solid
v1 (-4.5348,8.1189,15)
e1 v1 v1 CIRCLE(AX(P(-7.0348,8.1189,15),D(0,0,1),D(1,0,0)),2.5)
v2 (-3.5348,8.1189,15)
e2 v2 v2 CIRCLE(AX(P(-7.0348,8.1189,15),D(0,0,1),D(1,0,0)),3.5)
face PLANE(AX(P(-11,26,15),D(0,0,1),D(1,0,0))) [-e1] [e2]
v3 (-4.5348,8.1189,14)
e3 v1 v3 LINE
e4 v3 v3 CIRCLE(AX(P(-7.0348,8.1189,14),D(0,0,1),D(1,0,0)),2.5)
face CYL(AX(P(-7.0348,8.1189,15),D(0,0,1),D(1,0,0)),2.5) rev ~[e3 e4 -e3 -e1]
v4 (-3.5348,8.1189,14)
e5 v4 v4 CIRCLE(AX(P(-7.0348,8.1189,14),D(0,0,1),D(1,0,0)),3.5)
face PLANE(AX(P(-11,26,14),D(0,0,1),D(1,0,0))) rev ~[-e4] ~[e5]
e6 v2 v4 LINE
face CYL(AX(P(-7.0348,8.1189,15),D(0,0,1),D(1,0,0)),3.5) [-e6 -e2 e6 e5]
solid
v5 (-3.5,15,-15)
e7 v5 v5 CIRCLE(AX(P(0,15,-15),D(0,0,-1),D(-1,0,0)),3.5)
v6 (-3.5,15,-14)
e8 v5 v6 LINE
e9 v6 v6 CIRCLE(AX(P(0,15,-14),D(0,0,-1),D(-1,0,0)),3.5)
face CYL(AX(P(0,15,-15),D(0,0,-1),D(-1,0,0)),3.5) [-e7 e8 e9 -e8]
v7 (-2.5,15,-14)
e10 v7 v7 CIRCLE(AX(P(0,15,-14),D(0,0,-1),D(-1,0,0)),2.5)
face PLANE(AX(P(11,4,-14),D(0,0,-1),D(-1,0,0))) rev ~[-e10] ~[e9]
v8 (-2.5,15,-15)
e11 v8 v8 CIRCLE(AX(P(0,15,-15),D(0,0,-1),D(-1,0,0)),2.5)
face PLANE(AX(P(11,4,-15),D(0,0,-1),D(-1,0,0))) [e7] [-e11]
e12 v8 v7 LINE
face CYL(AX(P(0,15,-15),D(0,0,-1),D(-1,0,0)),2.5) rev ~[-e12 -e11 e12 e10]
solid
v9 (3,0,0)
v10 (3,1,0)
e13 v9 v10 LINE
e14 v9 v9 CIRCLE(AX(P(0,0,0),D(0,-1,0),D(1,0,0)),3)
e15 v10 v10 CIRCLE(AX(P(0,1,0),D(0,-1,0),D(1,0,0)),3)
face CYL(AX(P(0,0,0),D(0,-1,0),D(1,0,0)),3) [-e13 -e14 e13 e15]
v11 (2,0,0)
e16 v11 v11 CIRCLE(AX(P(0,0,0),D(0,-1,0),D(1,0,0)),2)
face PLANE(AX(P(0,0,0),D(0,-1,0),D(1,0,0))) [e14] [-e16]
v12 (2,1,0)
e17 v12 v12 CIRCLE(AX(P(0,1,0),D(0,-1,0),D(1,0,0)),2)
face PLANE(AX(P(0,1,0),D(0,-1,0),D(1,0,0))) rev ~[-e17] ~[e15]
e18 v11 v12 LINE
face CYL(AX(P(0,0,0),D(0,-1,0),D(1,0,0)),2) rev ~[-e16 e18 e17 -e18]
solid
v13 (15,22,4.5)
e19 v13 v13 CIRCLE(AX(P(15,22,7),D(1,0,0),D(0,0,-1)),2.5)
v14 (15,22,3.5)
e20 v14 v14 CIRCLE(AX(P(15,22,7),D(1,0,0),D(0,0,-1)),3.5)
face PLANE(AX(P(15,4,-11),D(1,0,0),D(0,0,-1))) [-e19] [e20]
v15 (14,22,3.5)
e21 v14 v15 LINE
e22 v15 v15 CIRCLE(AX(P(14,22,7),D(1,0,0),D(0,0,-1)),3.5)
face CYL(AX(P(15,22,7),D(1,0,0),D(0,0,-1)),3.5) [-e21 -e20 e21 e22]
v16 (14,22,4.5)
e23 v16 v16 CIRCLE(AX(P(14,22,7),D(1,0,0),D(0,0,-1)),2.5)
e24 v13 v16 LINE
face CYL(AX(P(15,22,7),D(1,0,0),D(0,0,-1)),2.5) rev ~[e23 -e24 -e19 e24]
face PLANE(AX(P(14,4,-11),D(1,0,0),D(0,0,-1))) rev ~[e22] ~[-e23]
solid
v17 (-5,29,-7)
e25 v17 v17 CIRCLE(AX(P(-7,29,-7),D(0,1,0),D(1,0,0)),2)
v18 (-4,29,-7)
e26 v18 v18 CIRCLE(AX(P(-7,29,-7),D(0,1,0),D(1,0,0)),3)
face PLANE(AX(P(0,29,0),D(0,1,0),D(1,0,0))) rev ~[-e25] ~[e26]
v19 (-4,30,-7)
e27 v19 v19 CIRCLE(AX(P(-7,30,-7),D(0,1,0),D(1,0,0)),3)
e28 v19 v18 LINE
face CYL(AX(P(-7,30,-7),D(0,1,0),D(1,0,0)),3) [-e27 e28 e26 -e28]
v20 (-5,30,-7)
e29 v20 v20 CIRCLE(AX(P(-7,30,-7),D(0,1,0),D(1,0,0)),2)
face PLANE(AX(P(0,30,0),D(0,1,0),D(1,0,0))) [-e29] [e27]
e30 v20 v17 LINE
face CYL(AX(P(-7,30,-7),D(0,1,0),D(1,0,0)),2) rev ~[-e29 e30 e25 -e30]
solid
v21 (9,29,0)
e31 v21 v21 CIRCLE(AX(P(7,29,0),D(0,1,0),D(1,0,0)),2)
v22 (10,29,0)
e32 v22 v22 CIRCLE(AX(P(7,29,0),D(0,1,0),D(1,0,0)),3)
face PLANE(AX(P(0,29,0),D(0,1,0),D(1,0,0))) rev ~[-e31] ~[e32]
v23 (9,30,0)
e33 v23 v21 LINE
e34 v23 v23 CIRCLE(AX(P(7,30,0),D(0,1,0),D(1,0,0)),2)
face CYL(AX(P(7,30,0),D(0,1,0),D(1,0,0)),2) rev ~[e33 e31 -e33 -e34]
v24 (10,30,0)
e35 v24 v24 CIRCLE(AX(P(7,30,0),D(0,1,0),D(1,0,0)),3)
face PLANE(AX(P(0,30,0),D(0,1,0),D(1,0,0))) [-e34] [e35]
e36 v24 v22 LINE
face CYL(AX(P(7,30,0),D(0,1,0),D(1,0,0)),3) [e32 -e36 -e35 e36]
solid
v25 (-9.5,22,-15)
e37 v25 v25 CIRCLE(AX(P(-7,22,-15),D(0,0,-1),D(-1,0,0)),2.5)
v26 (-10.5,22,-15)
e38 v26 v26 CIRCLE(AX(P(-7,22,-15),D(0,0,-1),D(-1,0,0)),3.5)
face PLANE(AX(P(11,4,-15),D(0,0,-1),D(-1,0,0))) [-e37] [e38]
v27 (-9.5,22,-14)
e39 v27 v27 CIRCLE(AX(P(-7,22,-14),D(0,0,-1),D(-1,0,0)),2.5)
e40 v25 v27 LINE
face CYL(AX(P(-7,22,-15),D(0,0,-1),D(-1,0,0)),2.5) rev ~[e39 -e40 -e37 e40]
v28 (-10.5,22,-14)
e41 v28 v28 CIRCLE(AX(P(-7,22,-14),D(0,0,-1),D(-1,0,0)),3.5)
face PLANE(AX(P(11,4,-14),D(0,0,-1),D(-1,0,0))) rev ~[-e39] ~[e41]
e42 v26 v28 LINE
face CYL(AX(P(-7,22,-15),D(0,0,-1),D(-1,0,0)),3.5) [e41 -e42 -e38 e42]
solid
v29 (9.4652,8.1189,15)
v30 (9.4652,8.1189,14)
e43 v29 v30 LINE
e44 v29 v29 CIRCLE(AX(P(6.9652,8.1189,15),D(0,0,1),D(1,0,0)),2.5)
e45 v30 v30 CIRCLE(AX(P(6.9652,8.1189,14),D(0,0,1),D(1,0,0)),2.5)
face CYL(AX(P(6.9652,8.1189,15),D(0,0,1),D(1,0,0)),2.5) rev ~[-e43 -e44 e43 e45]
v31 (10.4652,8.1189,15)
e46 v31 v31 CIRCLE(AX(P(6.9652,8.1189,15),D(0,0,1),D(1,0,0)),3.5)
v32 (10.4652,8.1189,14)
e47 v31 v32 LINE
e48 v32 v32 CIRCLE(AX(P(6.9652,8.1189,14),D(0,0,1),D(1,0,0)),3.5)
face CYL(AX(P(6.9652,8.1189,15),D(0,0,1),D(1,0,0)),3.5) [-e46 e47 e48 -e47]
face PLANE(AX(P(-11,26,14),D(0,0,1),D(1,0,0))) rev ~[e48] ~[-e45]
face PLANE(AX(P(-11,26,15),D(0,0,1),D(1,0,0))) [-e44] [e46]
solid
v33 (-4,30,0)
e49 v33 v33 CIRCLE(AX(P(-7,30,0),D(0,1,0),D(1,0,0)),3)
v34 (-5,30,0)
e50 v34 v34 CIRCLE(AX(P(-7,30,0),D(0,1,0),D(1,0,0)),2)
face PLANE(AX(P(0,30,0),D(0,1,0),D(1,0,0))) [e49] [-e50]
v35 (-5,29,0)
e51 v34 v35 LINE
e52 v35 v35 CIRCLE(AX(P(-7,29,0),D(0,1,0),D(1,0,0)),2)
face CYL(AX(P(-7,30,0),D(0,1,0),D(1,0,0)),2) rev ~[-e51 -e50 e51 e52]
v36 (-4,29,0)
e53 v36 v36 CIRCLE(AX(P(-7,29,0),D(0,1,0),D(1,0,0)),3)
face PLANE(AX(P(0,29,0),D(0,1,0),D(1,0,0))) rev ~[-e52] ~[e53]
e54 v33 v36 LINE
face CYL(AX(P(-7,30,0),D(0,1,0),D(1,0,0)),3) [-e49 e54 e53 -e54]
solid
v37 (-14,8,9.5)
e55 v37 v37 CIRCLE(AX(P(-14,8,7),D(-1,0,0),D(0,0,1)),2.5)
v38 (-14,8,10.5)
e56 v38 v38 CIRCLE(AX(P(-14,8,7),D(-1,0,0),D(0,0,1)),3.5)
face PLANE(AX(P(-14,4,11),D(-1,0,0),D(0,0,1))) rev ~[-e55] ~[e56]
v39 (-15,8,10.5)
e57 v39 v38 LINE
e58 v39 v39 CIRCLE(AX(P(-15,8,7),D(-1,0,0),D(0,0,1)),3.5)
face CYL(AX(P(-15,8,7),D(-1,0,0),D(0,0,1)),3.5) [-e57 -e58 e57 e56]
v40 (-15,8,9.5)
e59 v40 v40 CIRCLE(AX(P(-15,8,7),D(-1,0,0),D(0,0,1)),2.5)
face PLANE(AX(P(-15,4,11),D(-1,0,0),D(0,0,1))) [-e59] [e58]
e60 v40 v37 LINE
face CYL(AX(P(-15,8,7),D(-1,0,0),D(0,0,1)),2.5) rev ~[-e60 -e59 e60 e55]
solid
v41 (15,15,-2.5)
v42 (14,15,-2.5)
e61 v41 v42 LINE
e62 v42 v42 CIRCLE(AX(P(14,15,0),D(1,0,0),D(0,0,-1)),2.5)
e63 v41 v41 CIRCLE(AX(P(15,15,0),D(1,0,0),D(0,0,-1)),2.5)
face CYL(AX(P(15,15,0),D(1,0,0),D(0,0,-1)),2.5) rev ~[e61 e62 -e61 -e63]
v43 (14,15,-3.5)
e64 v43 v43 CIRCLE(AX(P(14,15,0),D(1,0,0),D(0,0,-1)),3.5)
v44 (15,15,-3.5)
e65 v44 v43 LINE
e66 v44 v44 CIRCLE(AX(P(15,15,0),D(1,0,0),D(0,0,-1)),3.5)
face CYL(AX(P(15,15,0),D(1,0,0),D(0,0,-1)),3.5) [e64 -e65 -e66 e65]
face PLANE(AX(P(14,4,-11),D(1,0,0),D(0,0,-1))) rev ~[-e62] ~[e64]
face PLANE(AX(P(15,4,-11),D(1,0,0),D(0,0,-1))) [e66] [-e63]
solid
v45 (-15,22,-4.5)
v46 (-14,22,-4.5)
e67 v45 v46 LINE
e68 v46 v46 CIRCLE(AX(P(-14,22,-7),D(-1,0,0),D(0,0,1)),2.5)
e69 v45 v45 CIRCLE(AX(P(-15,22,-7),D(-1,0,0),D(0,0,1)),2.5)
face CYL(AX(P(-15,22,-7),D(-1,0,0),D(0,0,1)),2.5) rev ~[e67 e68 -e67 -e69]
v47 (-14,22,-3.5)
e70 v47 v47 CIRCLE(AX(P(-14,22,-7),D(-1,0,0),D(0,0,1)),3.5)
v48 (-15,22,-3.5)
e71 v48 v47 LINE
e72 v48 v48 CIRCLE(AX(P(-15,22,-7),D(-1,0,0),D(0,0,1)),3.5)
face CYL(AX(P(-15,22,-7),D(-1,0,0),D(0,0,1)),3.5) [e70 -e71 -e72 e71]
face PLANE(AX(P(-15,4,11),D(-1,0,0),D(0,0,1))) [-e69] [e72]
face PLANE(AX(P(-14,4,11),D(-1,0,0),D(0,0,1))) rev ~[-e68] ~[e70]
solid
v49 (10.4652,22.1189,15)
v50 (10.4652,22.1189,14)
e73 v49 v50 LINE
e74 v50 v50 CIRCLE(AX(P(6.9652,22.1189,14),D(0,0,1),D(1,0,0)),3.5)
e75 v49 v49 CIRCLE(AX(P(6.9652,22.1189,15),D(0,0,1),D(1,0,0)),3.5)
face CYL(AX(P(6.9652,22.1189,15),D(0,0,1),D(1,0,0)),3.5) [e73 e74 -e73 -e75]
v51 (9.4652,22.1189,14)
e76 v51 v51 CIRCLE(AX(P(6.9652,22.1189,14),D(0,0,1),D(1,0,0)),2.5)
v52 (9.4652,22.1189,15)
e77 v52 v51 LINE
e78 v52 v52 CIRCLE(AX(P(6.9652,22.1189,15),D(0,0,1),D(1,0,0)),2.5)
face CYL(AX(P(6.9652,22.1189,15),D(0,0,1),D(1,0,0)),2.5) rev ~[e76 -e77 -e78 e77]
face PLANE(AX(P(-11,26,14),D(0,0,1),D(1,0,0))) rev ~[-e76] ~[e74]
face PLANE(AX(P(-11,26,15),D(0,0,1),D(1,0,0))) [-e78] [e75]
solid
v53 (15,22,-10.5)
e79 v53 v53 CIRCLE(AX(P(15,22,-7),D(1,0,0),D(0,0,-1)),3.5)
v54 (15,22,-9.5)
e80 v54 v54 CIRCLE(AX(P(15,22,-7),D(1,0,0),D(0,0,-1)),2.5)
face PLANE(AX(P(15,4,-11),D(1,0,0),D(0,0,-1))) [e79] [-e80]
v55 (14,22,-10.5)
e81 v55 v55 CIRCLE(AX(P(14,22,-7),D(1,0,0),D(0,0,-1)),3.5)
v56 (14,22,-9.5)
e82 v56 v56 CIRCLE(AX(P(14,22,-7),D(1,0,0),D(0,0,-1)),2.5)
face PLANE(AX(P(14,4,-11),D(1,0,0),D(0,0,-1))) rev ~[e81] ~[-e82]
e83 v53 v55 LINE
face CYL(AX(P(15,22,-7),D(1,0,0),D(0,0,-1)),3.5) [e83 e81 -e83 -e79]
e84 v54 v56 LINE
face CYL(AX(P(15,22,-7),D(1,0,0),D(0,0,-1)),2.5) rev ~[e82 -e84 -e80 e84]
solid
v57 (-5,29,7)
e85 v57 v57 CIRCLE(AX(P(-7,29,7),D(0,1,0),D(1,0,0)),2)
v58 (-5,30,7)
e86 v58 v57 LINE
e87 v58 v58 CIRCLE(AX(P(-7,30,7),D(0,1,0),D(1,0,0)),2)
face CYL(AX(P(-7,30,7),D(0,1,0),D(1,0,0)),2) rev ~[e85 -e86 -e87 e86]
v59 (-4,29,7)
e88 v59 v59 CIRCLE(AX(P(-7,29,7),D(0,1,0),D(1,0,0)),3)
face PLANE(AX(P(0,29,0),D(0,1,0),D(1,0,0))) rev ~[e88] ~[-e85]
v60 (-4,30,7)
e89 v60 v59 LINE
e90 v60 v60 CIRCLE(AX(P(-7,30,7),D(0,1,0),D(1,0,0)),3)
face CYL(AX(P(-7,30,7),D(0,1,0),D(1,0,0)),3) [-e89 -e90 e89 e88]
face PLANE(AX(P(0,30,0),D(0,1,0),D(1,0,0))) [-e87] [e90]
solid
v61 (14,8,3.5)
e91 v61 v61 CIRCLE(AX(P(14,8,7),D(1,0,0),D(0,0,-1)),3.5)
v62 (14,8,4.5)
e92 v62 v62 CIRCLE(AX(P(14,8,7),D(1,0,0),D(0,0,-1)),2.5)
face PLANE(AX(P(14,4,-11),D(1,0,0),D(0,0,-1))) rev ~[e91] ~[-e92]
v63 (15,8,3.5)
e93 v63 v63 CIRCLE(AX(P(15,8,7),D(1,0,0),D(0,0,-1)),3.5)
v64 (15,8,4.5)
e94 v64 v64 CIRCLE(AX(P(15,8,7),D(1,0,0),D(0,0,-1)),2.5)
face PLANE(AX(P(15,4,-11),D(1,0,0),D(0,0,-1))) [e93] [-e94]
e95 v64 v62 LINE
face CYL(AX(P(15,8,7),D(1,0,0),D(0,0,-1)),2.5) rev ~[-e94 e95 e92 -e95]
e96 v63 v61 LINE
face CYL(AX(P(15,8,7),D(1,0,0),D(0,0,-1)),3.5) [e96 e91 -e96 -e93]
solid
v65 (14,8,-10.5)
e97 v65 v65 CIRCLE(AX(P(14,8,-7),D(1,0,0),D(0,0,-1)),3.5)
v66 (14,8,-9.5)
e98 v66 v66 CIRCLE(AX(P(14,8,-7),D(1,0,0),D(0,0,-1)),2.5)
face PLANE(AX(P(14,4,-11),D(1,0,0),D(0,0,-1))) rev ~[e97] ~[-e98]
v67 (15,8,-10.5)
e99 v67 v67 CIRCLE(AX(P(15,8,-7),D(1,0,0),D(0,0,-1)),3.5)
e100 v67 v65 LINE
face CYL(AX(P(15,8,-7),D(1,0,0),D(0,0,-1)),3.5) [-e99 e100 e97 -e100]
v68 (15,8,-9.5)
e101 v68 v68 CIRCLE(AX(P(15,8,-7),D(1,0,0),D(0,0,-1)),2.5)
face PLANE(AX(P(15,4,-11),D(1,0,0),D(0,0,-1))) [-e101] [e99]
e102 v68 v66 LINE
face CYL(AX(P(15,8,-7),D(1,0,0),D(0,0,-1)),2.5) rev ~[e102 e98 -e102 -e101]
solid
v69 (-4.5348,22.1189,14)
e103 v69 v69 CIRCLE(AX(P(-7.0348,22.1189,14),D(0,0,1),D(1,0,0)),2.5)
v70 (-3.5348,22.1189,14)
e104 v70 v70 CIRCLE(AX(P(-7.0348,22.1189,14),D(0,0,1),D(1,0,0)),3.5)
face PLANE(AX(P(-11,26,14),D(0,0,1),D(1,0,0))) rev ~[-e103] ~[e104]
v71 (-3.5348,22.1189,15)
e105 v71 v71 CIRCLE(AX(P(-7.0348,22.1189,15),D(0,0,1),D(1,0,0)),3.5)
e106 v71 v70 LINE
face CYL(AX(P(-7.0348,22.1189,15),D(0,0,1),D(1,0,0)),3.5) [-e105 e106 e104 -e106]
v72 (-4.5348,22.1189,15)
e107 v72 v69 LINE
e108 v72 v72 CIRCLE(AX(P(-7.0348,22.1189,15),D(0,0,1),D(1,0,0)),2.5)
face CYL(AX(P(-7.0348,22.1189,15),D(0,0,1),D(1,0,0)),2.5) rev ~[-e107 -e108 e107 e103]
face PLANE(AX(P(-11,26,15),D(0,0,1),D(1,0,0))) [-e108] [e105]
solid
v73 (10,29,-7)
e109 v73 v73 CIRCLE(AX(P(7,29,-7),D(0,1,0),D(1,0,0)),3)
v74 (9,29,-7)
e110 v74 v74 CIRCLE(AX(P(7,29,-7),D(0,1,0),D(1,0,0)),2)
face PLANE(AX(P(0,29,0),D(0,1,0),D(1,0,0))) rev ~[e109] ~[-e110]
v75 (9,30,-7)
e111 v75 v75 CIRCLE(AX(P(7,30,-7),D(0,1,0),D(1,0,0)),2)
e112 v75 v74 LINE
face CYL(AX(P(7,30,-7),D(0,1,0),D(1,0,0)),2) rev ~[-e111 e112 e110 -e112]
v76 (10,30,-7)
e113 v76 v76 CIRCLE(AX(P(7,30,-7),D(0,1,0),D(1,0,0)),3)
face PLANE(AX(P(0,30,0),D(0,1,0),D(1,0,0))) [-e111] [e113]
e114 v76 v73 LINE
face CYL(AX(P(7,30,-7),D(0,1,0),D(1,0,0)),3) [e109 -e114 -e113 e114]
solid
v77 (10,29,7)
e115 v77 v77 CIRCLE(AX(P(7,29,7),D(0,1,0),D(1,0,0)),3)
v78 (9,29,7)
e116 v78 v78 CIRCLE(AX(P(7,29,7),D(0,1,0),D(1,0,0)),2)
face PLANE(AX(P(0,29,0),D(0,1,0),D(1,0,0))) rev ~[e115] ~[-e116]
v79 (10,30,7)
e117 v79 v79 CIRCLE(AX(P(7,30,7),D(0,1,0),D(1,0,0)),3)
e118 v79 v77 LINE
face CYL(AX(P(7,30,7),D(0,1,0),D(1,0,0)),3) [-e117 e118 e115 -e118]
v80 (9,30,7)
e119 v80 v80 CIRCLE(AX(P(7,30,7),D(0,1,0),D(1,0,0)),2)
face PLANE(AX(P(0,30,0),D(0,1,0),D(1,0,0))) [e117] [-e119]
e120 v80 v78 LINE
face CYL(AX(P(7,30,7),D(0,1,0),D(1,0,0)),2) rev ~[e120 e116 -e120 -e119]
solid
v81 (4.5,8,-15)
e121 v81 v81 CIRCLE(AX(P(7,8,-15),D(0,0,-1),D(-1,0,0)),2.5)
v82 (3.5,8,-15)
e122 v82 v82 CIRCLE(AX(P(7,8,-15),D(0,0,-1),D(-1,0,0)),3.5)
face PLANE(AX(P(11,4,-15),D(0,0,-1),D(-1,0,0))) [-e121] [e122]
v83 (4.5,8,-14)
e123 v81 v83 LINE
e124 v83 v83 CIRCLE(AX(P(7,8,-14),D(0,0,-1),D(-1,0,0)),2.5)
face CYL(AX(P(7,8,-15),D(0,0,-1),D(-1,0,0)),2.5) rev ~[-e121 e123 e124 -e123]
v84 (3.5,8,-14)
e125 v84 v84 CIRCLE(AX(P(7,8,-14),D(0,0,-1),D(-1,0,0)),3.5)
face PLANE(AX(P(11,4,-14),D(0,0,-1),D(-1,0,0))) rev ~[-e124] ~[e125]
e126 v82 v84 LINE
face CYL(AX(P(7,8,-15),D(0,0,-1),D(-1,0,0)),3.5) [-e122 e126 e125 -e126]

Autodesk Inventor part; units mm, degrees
ref_plane "YZ Plane" through (0, 0, 0) normal (1, 0, 0) x (0, 1, 0)
ref_plane "XZ Plane" through (0, 0, 0) normal (0, 1, 0) x (-1, 0, 0)
sketch "Sketch1" plane through (0, 0, 0) normal (0, 1, 0) x (-1, 0, 0)
  line L0 (15, -15) -> (-15, -15)
  line L1 (-15, -15) -> (-15, 15)
  line L2 (-15, 15) -> (15, 15)
  line L3 (15, 15) -> (15, -15)
  line L4 (15, -15) -> (-15, 15) construction
  line L5 (-15, -15) -> (15, 15) construction
  point P0 (0, 0)
  dimension "d0" = 30
  dimension "d2" = 30
extrude "Extrusion1" add sketch "Sketch1" along normal blind 30
fillet "Fillet1" radius 4 12 edges at (0, 0, 15) (15, 15, 15) (0, 30, 15) (-15, 15, 15) (15, 0, 0) (15, 15, -15) (15, 30, 0) (0, 30, -15) (-15, 30, 0) (0, 0, -15) (-15, 15, -15) (-15, 0, 0)
sketch "Sketch2" plane through (0, 0, 0) normal (0, -1, 0) x (1, 0, 0)
  circle A0 centre (0, 0) radius 3
  dimension "d6" = 6
extrude "Extrusion2" cut sketch "Sketch2" against normal blind 1
sketch "Sketch3" plane through (0, 30, 0) normal (0, 1, 0) x (1, 0, 0)
  circle A0 centre (-7, 0) radius 3
  circle A1 centre (-7, 7) radius 3
  circle A2 centre (-7, -7) radius 3
  point P0 (0, 0)
  dimension "d11" = 6
  dimension "d13" = 6
  dimension "d14" = 6
  dimension "d15" = 7
  dimension "d16" = 7
  dimension "d17" = 0
  dimension "d18" = 7
  dimension "d19" = 0
extrude "Extrusion3" cut sketch "Sketch3" against normal blind 1
ref_plane "Work Plane1" through (0, 4, 11) normal (-1, 0, 0) x (0, 0, 1)
mirror "Mirror1" about plane through (0, 4, 11) normal (-1, 0, 0) of "Extrusion3"
sketch "Sketch4" plane through (-11, 26, 15) normal (0, 0, 1) x (1, 0, 0)
  line L0 (17.9652, -17.8811) -> (3.9652, -17.8811) construction
  line L1 (3.9652, -17.8811) -> (3.9652, -3.8811) construction
  line L2 (3.9652, -3.8811) -> (17.9652, -3.8811) construction
  line L3 (17.9652, -3.8811) -> (17.9652, -17.8811) construction
  line L4 (17.9652, -17.8811) -> (3.9652, -3.8811) construction
  line L5 (3.9652, -17.8811) -> (17.9652, -3.8811) construction
  circle A0 centre (3.9652, -3.8811) radius 3.5
  circle A1 centre (3.9652, -17.8811) radius 3.5
  circle A2 centre (17.9652, -17.8811) radius 3.5
  circle A3 centre (17.9652, -3.8811) radius 3.5
  point P0 (11, -26)
  point P1 (10.9652, -10.8811)
  dimension "d22" = 7
  dimension "d23" = 7
  dimension "d24" = 7
  dimension "d25" = 7
  dimension "d28" = 14
  dimension "d29" = 14
extrude "Extrusion4" cut sketch "Sketch4" against normal blind 1
sketch "Sketch5" plane through (11, 4, -15) normal (0, 0, -1) x (-1, 0, 0)
  line L0 (0, 22) -> (22, 22) projected
  line L1 (0, 0) -> (0, 22) projected
  line L2 (18, 4) -> (4, 4)
  line L3 (4, 4) -> (4, 18)
  line L4 (4, 18) -> (18, 18)
  line L5 (18, 18) -> (18, 4)
  line L6 (18, 4) -> (4, 18) construction
  line L7 (4, 4) -> (18, 18) construction
  circle A0 centre (18, 18) radius 3.5
  circle A1 centre (4, 4) radius 3.5
  circle A2 centre (11, 11) radius 3.5
  point P0 (11, -4)
  dimension "d30" = 14
  dimension "d32" = 14
  dimension "d33" = 4
  dimension "d34" = 4
  dimension "d35" = 7
  dimension "d36" = 7
  dimension "d39" = 7
extrude "Extrusion5" cut sketch "Sketch5" against normal blind 1 contours A1 L3 L2 | L2 L3 A1 | A0 L4 L5 | L5 L4 A0 | A2
sketch "Sketch6" plane through (-15, 4, 11) normal (-1, 0, 0) x (0, 0, 1)
  line L0 (0, 22) -> (0, 0) projected
  line L1 (-22, 22) -> (0, 22) projected
  line L2 (-4, 4) -> (-18, 4)
  line L3 (-18, 4) -> (-18, 18)
  line L4 (-18, 18) -> (-4, 18)
  line L5 (-4, 18) -> (-4, 4)
  line L6 (-4, 4) -> (-18, 18) construction
  line L7 (-18, 4) -> (-4, 18) construction
  circle A0 centre (-18, 18) radius 3.5
  circle A1 centre (-4, 4) radius 3.5
  point P0 (-11, -4)
  point P1 (-11, 11)
  dimension "d40" = 14
  dimension "d42" = 14
  dimension "d43" = 4
  dimension "d44" = 4
  dimension "d45" = 7
  dimension "d46" = 7
extrude "Extrusion6" cut sketch "Sketch6" against normal blind 1 contours L5 A1 L2 | L2 A1 L5 | A0 L4 L3 | L3 L4 A0
sketch "Sketch7" plane through (15, 4, -11) normal (1, 0, 0) x (0, 0, -1)
  line L0 (-22, 22) -> (0, 22) projected
  line L1 (-22, 0) -> (-22, 22) projected
  line L2 (-4, 4) -> (-18, 4)
  line L3 (-18, 4) -> (-18, 18)
  line L4 (-18, 18) -> (-4, 18)
  line L5 (-4, 18) -> (-4, 4)
  line L6 (-4, 4) -> (-18, 18) construction
  line L7 (-18, 4) -> (-4, 18) construction
  circle A0 centre (-18, 18) radius 3.5
  circle A1 centre (-18, 4) radius 3.5
  circle A2 centre (-4, 4) radius 3.5
  circle A3 centre (-4, 18) radius 3.5
  circle A4 centre (-11, 11) radius 3.5
  point P0 (-11, -4)
  dimension "d49" = 14
  dimension "d51" = 14
  dimension "d52" = 4
  dimension "d53" = 4
  dimension "d54" = 7
  dimension "d55" = 7
  dimension "d56" = 7
  dimension "d57" = 7
  dimension "d58" = 7
extrude "Extrusion7" cut sketch "Sketch7" against normal blind 1 contours A1 L3 L2 | L2 L3 A1 | A2 L5 L2 | L2 L5 A2 | A0 L4 L3 | L3 L4 A0 | A3 L4 L5 | L5 L4 A3 | A4
sketch "Sketch8" plane through (11, 4, -15) normal (0, 0, -1) x (-1, 0, 0)
  circle A0 centre (11, 11) radius 3.5 projected
  circle A1 centre (18, 18) radius 3.5 projected
  circle A2 centre (4, 4) radius 3.5 projected
  circle A3 centre (18, 18) radius 2.5
  circle A4 centre (11, 11) radius 2.5
  circle A5 centre (4, 4) radius 2.5
  point P0 (11, -4)
  dimension "d63" = 1
  dimension "d64" = 1
  dimension "d65" = 1
sketch "Sketch9" plane through (15, 4, -11) normal (1, 0, 0) x (0, 0, -1)
  circle A0 centre (-11, 11) radius 3.5 projected
  circle A1 centre (-4, 4) radius 3.5 projected
  circle A2 centre (-18, 18) radius 3.5 projected
  circle A3 centre (-18, 4) radius 3.5 projected
  circle A4 centre (-4, 18) radius 3.5 projected
  circle A5 centre (-18, 18) radius 2.5
  circle A6 centre (-4, 18) radius 2.5
  circle A7 centre (-11, 11) radius 2.5
  circle A8 centre (-4, 4) radius 2.5
  circle A9 centre (-18, 4) radius 2.5
  point P0 (-11, -4)
  dimension "d66" = 1
  dimension "d67" = 1
  dimension "d68" = 1
  dimension "d69" = 1
  dimension "d70" = 1
sketch "Sketch10" plane through (-11, 26, 15) normal (0, 0, 1) x (1, 0, 0)
  circle A0 centre (17.9652, -17.8811) radius 3.5 projected
  circle A1 centre (3.9652, -3.8811) radius 3.5 projected
  circle A2 centre (3.9652, -17.8811) radius 3.5 projected
  circle A3 centre (17.9652, -3.8811) radius 3.5 projected
  circle A4 centre (3.9652, -3.8811) radius 2.5
  circle A5 centre (17.9652, -3.8811) radius 2.5
  circle A6 centre (17.9652, -17.8811) radius 2.5
  circle A7 centre (3.9652, -17.8811) radius 2.5
  point P0 (11, -26)
  dimension "d71" = 1
  dimension "d72" = 1
  dimension "d73" = 1
  dimension "d74" = 1
sketch "Sketch11" plane through (-15, 4, 11) normal (-1, 0, 0) x (0, 0, 1)
  circle A0 centre (-4, 4) radius 3.5 projected
  circle A1 centre (-18, 18) radius 3.5 projected
  circle A2 centre (-18, 18) radius 2.5
  circle A3 centre (-4, 4) radius 2.5
  point P0 (-11, -4)
  dimension "d75" = 1
  dimension "d76" = 5
sketch "Sketch12" plane through (0, 30, 0) normal (0, 1, 0) x (1, 0, 0)
  circle A0 centre (7, 7) radius 3 projected
  circle A1 centre (7, 0) radius 3 projected
  circle A2 centre (7, -7) radius 3 projected
  circle A3 centre (-7, 7) radius 3 projected
  circle A4 centre (-7, 0) radius 3 projected
  circle A5 centre (-7, -7) radius 3 projected
  circle A6 centre (-7, 0) radius 2
  circle A7 centre (-7, 7) radius 2
  circle A8 centre (7, 7) radius 2
  circle A9 centre (7, 0) radius 2
  circle A10 centre (7, -7) radius 2
  circle A11 centre (-7, -7) radius 2
  point P0 (0, 0)
  dimension "d77" = 1
  dimension "d78" = 1
  dimension "d79" = 1
  dimension "d80" = 1
  dimension "d81" = 1
  dimension "d82" = 1
sketch "Sketch13" plane through (0, 0, 0) normal (0, -1, 0) x (1, 0, 0)
  circle A0 centre (0, 0) radius 3 projected
  circle A1 centre (0, 0) radius 2
  dimension "d85" = 1
sketch "Sketch15" plane through (-15, 4, 11) normal (-1, 0, 0) x (0, 0, 1)
  line L0 (11.0554, -8.3661) -> (-31.3706, -8.3661)
  line L1 (-31.3706, -8.3661) -> (-31.3706, 30.3661)
  line L2 (-31.3706, 30.3661) -> (11.0554, 30.3661)
  line L3 (11.0554, 30.3661) -> (11.0554, -8.3661)
  line L4 (11.0554, -8.3661) -> (-31.3706, 30.3661) construction
  line L5 (-31.3706, -8.3661) -> (11.0554, 30.3661) construction
  point P0 (-11, -4)
  point P1 (-10.1576, 11)
extrude "Extrusion8" cut sketch "Sketch15" along normal through all both and the other way through all
extrude "Extrusion9" add sketch "Sketch13" against normal blind 1 contours A1
extrude "Extrusion10" add sketch "Sketch11" against normal blind 1 contours A2 | A3
extrude "Extrusion11" add sketch "Sketch10" against normal blind 1 contours A4 | A5 | A6 | A7
extrude "Extrusion12" add sketch "Sketch12" against normal blind 1 contours A6 | A7 | A8 | A9 | A10 | A11
extrude "Extrusion13" add sketch "Sketch8" against normal blind 1 contours A3 | A4 | A5
extrude "Extrusion14" add sketch "Sketch9" against normal blind 1 contours A5 | A6 | A7 | A8 | A9
sketch "Sketch16" plane through (0, 30, 0) normal (0, 1, 0) x (1, 0, 0)
  circle A0 centre (7, 7) radius 3 projected
  circle A1 centre (7, 0) radius 3 projected
  circle A2 centre (7, -7) radius 3 projected
  circle A3 centre (-7, 7) radius 3 projected
  circle A4 centre (-7, 0) radius 3 projected
  circle A5 centre (-7, -7) radius 3 projected
  circle A6 centre (-7, 7) radius 2 projected
  circle A7 centre (7, 7) radius 2 projected
  circle A8 centre (7, 0) radius 2 projected
  circle A9 centre (-7, 0) radius 2 projected
  circle A10 centre (-7, -7) radius 2 projected
  circle A11 centre (7, -7) radius 2 projected
  point P0 (0, 0)
sketch "Sketch17" plane through (11, 4, -15) normal (0, 0, -1) x (-1, 0, 0)
  circle A0 centre (11, 11) radius 3.5 projected
  circle A1 centre (18, 18) radius 3.5 projected
  circle A2 centre (4, 4) radius 3.5 projected
  circle A3 centre (11, 11) radius 2.5 projected
  circle A4 centre (18, 18) radius 2.5 projected
  circle A5 centre (4, 4) radius 2.5 projected
  point P0 (11, -4)
sketch "Sketch18" plane through (15, 4, -11) normal (1, 0, 0) x (0, 0, -1)
  circle A0 centre (-11, 11) radius 3.5 projected
  circle A1 centre (-4, 4) radius 3.5 projected
  circle A2 centre (-18, 18) radius 3.5 projected
  circle A3 centre (-18, 4) radius 3.5 projected
  circle A4 centre (-4, 18) radius 3.5 projected
  circle A5 centre (-18, 18) radius 2.5 projected
  circle A6 centre (-4, 18) radius 2.5 projected
  circle A7 centre (-11, 11) radius 2.5 projected
  circle A8 centre (-18, 4) radius 2.5 projected
  circle A9 centre (-4, 4) radius 2.5 projected
  point P0 (-11, -4)
sketch "Sketch19" plane through (-11, 26, 15) normal (0, 0, 1) x (1, 0, 0)
  circle A0 centre (17.9652, -17.8811) radius 3.5 projected
  circle A1 centre (3.9652, -3.8811) radius 3.5 projected
  circle A2 centre (3.9652, -17.8811) radius 3.5 projected
  circle A3 centre (17.9652, -3.8811) radius 3.5 projected
  circle A4 centre (3.9652, -3.8811) radius 2.5 projected
  circle A5 centre (17.9652, -3.8811) radius 2.5 projected
  circle A6 centre (17.9652, -17.8811) radius 2.5 projected
  circle A7 centre (3.9652, -17.8811) radius 2.5 projected
  point P0 (11, -26)
sketch "Sketch20" plane through (-15, 4, 11) normal (-1, 0, 0) x (0, 0, 1)
  circle A0 centre (-4, 4) radius 3.5 projected
  circle A1 centre (-18, 18) radius 3.5 projected
  circle A2 centre (-18, 18) radius 2.5 projected
  circle A3 centre (-4, 4) radius 2.5 projected
  point P0 (-11, -4)
sketch "Sketch21" plane through (0, 0, 0) normal (0, -1, 0) x (1, 0, 0)
  circle A0 centre (0, 0) radius 3 projected
  circle A1 centre (0, 0) radius 2 projected
sketch "Sketch23" plane through (0, 15, -14) normal (0, 0, 1) x (1, 0, 0)
  circle A0 centre (0, 0) radius 2.5 projected
  line L0 (18.9155, -17.8731) -> (-18.9155, -17.8731)
  line L1 (-18.9155, -17.8731) -> (-18.9155, 17.8731)
  line L2 (-18.9155, 17.8731) -> (18.9155, 17.8731)
  line L3 (18.9155, 17.8731) -> (18.9155, -17.8731)
  line L4 (18.9155, -17.8731) -> (-18.9155, 17.8731) construction
  line L5 (-18.9155, -17.8731) -> (18.9155, 17.8731) construction
  point P0 (0, -15)
extrude "Extrusion16" cut sketch "Sketch23" along normal mid plane 100 contours A0 | L0 L1 L2 L3
extrude "Extrusion17" add sketch "Sketch16" against normal blind 1
extrude "Extrusion18" add sketch "Sketch19" against normal blind 1
extrude "Extrusion19" add sketch "Sketch20" against normal blind 1
extrude "Extrusion20" add sketch "Sketch17" against normal blind 1
extrude "Extrusion21" add sketch "Sketch18" against normal blind 1
extrude "Extrusion22" add sketch "Sketch21" against normal blind 1
properties part number "Dice"
